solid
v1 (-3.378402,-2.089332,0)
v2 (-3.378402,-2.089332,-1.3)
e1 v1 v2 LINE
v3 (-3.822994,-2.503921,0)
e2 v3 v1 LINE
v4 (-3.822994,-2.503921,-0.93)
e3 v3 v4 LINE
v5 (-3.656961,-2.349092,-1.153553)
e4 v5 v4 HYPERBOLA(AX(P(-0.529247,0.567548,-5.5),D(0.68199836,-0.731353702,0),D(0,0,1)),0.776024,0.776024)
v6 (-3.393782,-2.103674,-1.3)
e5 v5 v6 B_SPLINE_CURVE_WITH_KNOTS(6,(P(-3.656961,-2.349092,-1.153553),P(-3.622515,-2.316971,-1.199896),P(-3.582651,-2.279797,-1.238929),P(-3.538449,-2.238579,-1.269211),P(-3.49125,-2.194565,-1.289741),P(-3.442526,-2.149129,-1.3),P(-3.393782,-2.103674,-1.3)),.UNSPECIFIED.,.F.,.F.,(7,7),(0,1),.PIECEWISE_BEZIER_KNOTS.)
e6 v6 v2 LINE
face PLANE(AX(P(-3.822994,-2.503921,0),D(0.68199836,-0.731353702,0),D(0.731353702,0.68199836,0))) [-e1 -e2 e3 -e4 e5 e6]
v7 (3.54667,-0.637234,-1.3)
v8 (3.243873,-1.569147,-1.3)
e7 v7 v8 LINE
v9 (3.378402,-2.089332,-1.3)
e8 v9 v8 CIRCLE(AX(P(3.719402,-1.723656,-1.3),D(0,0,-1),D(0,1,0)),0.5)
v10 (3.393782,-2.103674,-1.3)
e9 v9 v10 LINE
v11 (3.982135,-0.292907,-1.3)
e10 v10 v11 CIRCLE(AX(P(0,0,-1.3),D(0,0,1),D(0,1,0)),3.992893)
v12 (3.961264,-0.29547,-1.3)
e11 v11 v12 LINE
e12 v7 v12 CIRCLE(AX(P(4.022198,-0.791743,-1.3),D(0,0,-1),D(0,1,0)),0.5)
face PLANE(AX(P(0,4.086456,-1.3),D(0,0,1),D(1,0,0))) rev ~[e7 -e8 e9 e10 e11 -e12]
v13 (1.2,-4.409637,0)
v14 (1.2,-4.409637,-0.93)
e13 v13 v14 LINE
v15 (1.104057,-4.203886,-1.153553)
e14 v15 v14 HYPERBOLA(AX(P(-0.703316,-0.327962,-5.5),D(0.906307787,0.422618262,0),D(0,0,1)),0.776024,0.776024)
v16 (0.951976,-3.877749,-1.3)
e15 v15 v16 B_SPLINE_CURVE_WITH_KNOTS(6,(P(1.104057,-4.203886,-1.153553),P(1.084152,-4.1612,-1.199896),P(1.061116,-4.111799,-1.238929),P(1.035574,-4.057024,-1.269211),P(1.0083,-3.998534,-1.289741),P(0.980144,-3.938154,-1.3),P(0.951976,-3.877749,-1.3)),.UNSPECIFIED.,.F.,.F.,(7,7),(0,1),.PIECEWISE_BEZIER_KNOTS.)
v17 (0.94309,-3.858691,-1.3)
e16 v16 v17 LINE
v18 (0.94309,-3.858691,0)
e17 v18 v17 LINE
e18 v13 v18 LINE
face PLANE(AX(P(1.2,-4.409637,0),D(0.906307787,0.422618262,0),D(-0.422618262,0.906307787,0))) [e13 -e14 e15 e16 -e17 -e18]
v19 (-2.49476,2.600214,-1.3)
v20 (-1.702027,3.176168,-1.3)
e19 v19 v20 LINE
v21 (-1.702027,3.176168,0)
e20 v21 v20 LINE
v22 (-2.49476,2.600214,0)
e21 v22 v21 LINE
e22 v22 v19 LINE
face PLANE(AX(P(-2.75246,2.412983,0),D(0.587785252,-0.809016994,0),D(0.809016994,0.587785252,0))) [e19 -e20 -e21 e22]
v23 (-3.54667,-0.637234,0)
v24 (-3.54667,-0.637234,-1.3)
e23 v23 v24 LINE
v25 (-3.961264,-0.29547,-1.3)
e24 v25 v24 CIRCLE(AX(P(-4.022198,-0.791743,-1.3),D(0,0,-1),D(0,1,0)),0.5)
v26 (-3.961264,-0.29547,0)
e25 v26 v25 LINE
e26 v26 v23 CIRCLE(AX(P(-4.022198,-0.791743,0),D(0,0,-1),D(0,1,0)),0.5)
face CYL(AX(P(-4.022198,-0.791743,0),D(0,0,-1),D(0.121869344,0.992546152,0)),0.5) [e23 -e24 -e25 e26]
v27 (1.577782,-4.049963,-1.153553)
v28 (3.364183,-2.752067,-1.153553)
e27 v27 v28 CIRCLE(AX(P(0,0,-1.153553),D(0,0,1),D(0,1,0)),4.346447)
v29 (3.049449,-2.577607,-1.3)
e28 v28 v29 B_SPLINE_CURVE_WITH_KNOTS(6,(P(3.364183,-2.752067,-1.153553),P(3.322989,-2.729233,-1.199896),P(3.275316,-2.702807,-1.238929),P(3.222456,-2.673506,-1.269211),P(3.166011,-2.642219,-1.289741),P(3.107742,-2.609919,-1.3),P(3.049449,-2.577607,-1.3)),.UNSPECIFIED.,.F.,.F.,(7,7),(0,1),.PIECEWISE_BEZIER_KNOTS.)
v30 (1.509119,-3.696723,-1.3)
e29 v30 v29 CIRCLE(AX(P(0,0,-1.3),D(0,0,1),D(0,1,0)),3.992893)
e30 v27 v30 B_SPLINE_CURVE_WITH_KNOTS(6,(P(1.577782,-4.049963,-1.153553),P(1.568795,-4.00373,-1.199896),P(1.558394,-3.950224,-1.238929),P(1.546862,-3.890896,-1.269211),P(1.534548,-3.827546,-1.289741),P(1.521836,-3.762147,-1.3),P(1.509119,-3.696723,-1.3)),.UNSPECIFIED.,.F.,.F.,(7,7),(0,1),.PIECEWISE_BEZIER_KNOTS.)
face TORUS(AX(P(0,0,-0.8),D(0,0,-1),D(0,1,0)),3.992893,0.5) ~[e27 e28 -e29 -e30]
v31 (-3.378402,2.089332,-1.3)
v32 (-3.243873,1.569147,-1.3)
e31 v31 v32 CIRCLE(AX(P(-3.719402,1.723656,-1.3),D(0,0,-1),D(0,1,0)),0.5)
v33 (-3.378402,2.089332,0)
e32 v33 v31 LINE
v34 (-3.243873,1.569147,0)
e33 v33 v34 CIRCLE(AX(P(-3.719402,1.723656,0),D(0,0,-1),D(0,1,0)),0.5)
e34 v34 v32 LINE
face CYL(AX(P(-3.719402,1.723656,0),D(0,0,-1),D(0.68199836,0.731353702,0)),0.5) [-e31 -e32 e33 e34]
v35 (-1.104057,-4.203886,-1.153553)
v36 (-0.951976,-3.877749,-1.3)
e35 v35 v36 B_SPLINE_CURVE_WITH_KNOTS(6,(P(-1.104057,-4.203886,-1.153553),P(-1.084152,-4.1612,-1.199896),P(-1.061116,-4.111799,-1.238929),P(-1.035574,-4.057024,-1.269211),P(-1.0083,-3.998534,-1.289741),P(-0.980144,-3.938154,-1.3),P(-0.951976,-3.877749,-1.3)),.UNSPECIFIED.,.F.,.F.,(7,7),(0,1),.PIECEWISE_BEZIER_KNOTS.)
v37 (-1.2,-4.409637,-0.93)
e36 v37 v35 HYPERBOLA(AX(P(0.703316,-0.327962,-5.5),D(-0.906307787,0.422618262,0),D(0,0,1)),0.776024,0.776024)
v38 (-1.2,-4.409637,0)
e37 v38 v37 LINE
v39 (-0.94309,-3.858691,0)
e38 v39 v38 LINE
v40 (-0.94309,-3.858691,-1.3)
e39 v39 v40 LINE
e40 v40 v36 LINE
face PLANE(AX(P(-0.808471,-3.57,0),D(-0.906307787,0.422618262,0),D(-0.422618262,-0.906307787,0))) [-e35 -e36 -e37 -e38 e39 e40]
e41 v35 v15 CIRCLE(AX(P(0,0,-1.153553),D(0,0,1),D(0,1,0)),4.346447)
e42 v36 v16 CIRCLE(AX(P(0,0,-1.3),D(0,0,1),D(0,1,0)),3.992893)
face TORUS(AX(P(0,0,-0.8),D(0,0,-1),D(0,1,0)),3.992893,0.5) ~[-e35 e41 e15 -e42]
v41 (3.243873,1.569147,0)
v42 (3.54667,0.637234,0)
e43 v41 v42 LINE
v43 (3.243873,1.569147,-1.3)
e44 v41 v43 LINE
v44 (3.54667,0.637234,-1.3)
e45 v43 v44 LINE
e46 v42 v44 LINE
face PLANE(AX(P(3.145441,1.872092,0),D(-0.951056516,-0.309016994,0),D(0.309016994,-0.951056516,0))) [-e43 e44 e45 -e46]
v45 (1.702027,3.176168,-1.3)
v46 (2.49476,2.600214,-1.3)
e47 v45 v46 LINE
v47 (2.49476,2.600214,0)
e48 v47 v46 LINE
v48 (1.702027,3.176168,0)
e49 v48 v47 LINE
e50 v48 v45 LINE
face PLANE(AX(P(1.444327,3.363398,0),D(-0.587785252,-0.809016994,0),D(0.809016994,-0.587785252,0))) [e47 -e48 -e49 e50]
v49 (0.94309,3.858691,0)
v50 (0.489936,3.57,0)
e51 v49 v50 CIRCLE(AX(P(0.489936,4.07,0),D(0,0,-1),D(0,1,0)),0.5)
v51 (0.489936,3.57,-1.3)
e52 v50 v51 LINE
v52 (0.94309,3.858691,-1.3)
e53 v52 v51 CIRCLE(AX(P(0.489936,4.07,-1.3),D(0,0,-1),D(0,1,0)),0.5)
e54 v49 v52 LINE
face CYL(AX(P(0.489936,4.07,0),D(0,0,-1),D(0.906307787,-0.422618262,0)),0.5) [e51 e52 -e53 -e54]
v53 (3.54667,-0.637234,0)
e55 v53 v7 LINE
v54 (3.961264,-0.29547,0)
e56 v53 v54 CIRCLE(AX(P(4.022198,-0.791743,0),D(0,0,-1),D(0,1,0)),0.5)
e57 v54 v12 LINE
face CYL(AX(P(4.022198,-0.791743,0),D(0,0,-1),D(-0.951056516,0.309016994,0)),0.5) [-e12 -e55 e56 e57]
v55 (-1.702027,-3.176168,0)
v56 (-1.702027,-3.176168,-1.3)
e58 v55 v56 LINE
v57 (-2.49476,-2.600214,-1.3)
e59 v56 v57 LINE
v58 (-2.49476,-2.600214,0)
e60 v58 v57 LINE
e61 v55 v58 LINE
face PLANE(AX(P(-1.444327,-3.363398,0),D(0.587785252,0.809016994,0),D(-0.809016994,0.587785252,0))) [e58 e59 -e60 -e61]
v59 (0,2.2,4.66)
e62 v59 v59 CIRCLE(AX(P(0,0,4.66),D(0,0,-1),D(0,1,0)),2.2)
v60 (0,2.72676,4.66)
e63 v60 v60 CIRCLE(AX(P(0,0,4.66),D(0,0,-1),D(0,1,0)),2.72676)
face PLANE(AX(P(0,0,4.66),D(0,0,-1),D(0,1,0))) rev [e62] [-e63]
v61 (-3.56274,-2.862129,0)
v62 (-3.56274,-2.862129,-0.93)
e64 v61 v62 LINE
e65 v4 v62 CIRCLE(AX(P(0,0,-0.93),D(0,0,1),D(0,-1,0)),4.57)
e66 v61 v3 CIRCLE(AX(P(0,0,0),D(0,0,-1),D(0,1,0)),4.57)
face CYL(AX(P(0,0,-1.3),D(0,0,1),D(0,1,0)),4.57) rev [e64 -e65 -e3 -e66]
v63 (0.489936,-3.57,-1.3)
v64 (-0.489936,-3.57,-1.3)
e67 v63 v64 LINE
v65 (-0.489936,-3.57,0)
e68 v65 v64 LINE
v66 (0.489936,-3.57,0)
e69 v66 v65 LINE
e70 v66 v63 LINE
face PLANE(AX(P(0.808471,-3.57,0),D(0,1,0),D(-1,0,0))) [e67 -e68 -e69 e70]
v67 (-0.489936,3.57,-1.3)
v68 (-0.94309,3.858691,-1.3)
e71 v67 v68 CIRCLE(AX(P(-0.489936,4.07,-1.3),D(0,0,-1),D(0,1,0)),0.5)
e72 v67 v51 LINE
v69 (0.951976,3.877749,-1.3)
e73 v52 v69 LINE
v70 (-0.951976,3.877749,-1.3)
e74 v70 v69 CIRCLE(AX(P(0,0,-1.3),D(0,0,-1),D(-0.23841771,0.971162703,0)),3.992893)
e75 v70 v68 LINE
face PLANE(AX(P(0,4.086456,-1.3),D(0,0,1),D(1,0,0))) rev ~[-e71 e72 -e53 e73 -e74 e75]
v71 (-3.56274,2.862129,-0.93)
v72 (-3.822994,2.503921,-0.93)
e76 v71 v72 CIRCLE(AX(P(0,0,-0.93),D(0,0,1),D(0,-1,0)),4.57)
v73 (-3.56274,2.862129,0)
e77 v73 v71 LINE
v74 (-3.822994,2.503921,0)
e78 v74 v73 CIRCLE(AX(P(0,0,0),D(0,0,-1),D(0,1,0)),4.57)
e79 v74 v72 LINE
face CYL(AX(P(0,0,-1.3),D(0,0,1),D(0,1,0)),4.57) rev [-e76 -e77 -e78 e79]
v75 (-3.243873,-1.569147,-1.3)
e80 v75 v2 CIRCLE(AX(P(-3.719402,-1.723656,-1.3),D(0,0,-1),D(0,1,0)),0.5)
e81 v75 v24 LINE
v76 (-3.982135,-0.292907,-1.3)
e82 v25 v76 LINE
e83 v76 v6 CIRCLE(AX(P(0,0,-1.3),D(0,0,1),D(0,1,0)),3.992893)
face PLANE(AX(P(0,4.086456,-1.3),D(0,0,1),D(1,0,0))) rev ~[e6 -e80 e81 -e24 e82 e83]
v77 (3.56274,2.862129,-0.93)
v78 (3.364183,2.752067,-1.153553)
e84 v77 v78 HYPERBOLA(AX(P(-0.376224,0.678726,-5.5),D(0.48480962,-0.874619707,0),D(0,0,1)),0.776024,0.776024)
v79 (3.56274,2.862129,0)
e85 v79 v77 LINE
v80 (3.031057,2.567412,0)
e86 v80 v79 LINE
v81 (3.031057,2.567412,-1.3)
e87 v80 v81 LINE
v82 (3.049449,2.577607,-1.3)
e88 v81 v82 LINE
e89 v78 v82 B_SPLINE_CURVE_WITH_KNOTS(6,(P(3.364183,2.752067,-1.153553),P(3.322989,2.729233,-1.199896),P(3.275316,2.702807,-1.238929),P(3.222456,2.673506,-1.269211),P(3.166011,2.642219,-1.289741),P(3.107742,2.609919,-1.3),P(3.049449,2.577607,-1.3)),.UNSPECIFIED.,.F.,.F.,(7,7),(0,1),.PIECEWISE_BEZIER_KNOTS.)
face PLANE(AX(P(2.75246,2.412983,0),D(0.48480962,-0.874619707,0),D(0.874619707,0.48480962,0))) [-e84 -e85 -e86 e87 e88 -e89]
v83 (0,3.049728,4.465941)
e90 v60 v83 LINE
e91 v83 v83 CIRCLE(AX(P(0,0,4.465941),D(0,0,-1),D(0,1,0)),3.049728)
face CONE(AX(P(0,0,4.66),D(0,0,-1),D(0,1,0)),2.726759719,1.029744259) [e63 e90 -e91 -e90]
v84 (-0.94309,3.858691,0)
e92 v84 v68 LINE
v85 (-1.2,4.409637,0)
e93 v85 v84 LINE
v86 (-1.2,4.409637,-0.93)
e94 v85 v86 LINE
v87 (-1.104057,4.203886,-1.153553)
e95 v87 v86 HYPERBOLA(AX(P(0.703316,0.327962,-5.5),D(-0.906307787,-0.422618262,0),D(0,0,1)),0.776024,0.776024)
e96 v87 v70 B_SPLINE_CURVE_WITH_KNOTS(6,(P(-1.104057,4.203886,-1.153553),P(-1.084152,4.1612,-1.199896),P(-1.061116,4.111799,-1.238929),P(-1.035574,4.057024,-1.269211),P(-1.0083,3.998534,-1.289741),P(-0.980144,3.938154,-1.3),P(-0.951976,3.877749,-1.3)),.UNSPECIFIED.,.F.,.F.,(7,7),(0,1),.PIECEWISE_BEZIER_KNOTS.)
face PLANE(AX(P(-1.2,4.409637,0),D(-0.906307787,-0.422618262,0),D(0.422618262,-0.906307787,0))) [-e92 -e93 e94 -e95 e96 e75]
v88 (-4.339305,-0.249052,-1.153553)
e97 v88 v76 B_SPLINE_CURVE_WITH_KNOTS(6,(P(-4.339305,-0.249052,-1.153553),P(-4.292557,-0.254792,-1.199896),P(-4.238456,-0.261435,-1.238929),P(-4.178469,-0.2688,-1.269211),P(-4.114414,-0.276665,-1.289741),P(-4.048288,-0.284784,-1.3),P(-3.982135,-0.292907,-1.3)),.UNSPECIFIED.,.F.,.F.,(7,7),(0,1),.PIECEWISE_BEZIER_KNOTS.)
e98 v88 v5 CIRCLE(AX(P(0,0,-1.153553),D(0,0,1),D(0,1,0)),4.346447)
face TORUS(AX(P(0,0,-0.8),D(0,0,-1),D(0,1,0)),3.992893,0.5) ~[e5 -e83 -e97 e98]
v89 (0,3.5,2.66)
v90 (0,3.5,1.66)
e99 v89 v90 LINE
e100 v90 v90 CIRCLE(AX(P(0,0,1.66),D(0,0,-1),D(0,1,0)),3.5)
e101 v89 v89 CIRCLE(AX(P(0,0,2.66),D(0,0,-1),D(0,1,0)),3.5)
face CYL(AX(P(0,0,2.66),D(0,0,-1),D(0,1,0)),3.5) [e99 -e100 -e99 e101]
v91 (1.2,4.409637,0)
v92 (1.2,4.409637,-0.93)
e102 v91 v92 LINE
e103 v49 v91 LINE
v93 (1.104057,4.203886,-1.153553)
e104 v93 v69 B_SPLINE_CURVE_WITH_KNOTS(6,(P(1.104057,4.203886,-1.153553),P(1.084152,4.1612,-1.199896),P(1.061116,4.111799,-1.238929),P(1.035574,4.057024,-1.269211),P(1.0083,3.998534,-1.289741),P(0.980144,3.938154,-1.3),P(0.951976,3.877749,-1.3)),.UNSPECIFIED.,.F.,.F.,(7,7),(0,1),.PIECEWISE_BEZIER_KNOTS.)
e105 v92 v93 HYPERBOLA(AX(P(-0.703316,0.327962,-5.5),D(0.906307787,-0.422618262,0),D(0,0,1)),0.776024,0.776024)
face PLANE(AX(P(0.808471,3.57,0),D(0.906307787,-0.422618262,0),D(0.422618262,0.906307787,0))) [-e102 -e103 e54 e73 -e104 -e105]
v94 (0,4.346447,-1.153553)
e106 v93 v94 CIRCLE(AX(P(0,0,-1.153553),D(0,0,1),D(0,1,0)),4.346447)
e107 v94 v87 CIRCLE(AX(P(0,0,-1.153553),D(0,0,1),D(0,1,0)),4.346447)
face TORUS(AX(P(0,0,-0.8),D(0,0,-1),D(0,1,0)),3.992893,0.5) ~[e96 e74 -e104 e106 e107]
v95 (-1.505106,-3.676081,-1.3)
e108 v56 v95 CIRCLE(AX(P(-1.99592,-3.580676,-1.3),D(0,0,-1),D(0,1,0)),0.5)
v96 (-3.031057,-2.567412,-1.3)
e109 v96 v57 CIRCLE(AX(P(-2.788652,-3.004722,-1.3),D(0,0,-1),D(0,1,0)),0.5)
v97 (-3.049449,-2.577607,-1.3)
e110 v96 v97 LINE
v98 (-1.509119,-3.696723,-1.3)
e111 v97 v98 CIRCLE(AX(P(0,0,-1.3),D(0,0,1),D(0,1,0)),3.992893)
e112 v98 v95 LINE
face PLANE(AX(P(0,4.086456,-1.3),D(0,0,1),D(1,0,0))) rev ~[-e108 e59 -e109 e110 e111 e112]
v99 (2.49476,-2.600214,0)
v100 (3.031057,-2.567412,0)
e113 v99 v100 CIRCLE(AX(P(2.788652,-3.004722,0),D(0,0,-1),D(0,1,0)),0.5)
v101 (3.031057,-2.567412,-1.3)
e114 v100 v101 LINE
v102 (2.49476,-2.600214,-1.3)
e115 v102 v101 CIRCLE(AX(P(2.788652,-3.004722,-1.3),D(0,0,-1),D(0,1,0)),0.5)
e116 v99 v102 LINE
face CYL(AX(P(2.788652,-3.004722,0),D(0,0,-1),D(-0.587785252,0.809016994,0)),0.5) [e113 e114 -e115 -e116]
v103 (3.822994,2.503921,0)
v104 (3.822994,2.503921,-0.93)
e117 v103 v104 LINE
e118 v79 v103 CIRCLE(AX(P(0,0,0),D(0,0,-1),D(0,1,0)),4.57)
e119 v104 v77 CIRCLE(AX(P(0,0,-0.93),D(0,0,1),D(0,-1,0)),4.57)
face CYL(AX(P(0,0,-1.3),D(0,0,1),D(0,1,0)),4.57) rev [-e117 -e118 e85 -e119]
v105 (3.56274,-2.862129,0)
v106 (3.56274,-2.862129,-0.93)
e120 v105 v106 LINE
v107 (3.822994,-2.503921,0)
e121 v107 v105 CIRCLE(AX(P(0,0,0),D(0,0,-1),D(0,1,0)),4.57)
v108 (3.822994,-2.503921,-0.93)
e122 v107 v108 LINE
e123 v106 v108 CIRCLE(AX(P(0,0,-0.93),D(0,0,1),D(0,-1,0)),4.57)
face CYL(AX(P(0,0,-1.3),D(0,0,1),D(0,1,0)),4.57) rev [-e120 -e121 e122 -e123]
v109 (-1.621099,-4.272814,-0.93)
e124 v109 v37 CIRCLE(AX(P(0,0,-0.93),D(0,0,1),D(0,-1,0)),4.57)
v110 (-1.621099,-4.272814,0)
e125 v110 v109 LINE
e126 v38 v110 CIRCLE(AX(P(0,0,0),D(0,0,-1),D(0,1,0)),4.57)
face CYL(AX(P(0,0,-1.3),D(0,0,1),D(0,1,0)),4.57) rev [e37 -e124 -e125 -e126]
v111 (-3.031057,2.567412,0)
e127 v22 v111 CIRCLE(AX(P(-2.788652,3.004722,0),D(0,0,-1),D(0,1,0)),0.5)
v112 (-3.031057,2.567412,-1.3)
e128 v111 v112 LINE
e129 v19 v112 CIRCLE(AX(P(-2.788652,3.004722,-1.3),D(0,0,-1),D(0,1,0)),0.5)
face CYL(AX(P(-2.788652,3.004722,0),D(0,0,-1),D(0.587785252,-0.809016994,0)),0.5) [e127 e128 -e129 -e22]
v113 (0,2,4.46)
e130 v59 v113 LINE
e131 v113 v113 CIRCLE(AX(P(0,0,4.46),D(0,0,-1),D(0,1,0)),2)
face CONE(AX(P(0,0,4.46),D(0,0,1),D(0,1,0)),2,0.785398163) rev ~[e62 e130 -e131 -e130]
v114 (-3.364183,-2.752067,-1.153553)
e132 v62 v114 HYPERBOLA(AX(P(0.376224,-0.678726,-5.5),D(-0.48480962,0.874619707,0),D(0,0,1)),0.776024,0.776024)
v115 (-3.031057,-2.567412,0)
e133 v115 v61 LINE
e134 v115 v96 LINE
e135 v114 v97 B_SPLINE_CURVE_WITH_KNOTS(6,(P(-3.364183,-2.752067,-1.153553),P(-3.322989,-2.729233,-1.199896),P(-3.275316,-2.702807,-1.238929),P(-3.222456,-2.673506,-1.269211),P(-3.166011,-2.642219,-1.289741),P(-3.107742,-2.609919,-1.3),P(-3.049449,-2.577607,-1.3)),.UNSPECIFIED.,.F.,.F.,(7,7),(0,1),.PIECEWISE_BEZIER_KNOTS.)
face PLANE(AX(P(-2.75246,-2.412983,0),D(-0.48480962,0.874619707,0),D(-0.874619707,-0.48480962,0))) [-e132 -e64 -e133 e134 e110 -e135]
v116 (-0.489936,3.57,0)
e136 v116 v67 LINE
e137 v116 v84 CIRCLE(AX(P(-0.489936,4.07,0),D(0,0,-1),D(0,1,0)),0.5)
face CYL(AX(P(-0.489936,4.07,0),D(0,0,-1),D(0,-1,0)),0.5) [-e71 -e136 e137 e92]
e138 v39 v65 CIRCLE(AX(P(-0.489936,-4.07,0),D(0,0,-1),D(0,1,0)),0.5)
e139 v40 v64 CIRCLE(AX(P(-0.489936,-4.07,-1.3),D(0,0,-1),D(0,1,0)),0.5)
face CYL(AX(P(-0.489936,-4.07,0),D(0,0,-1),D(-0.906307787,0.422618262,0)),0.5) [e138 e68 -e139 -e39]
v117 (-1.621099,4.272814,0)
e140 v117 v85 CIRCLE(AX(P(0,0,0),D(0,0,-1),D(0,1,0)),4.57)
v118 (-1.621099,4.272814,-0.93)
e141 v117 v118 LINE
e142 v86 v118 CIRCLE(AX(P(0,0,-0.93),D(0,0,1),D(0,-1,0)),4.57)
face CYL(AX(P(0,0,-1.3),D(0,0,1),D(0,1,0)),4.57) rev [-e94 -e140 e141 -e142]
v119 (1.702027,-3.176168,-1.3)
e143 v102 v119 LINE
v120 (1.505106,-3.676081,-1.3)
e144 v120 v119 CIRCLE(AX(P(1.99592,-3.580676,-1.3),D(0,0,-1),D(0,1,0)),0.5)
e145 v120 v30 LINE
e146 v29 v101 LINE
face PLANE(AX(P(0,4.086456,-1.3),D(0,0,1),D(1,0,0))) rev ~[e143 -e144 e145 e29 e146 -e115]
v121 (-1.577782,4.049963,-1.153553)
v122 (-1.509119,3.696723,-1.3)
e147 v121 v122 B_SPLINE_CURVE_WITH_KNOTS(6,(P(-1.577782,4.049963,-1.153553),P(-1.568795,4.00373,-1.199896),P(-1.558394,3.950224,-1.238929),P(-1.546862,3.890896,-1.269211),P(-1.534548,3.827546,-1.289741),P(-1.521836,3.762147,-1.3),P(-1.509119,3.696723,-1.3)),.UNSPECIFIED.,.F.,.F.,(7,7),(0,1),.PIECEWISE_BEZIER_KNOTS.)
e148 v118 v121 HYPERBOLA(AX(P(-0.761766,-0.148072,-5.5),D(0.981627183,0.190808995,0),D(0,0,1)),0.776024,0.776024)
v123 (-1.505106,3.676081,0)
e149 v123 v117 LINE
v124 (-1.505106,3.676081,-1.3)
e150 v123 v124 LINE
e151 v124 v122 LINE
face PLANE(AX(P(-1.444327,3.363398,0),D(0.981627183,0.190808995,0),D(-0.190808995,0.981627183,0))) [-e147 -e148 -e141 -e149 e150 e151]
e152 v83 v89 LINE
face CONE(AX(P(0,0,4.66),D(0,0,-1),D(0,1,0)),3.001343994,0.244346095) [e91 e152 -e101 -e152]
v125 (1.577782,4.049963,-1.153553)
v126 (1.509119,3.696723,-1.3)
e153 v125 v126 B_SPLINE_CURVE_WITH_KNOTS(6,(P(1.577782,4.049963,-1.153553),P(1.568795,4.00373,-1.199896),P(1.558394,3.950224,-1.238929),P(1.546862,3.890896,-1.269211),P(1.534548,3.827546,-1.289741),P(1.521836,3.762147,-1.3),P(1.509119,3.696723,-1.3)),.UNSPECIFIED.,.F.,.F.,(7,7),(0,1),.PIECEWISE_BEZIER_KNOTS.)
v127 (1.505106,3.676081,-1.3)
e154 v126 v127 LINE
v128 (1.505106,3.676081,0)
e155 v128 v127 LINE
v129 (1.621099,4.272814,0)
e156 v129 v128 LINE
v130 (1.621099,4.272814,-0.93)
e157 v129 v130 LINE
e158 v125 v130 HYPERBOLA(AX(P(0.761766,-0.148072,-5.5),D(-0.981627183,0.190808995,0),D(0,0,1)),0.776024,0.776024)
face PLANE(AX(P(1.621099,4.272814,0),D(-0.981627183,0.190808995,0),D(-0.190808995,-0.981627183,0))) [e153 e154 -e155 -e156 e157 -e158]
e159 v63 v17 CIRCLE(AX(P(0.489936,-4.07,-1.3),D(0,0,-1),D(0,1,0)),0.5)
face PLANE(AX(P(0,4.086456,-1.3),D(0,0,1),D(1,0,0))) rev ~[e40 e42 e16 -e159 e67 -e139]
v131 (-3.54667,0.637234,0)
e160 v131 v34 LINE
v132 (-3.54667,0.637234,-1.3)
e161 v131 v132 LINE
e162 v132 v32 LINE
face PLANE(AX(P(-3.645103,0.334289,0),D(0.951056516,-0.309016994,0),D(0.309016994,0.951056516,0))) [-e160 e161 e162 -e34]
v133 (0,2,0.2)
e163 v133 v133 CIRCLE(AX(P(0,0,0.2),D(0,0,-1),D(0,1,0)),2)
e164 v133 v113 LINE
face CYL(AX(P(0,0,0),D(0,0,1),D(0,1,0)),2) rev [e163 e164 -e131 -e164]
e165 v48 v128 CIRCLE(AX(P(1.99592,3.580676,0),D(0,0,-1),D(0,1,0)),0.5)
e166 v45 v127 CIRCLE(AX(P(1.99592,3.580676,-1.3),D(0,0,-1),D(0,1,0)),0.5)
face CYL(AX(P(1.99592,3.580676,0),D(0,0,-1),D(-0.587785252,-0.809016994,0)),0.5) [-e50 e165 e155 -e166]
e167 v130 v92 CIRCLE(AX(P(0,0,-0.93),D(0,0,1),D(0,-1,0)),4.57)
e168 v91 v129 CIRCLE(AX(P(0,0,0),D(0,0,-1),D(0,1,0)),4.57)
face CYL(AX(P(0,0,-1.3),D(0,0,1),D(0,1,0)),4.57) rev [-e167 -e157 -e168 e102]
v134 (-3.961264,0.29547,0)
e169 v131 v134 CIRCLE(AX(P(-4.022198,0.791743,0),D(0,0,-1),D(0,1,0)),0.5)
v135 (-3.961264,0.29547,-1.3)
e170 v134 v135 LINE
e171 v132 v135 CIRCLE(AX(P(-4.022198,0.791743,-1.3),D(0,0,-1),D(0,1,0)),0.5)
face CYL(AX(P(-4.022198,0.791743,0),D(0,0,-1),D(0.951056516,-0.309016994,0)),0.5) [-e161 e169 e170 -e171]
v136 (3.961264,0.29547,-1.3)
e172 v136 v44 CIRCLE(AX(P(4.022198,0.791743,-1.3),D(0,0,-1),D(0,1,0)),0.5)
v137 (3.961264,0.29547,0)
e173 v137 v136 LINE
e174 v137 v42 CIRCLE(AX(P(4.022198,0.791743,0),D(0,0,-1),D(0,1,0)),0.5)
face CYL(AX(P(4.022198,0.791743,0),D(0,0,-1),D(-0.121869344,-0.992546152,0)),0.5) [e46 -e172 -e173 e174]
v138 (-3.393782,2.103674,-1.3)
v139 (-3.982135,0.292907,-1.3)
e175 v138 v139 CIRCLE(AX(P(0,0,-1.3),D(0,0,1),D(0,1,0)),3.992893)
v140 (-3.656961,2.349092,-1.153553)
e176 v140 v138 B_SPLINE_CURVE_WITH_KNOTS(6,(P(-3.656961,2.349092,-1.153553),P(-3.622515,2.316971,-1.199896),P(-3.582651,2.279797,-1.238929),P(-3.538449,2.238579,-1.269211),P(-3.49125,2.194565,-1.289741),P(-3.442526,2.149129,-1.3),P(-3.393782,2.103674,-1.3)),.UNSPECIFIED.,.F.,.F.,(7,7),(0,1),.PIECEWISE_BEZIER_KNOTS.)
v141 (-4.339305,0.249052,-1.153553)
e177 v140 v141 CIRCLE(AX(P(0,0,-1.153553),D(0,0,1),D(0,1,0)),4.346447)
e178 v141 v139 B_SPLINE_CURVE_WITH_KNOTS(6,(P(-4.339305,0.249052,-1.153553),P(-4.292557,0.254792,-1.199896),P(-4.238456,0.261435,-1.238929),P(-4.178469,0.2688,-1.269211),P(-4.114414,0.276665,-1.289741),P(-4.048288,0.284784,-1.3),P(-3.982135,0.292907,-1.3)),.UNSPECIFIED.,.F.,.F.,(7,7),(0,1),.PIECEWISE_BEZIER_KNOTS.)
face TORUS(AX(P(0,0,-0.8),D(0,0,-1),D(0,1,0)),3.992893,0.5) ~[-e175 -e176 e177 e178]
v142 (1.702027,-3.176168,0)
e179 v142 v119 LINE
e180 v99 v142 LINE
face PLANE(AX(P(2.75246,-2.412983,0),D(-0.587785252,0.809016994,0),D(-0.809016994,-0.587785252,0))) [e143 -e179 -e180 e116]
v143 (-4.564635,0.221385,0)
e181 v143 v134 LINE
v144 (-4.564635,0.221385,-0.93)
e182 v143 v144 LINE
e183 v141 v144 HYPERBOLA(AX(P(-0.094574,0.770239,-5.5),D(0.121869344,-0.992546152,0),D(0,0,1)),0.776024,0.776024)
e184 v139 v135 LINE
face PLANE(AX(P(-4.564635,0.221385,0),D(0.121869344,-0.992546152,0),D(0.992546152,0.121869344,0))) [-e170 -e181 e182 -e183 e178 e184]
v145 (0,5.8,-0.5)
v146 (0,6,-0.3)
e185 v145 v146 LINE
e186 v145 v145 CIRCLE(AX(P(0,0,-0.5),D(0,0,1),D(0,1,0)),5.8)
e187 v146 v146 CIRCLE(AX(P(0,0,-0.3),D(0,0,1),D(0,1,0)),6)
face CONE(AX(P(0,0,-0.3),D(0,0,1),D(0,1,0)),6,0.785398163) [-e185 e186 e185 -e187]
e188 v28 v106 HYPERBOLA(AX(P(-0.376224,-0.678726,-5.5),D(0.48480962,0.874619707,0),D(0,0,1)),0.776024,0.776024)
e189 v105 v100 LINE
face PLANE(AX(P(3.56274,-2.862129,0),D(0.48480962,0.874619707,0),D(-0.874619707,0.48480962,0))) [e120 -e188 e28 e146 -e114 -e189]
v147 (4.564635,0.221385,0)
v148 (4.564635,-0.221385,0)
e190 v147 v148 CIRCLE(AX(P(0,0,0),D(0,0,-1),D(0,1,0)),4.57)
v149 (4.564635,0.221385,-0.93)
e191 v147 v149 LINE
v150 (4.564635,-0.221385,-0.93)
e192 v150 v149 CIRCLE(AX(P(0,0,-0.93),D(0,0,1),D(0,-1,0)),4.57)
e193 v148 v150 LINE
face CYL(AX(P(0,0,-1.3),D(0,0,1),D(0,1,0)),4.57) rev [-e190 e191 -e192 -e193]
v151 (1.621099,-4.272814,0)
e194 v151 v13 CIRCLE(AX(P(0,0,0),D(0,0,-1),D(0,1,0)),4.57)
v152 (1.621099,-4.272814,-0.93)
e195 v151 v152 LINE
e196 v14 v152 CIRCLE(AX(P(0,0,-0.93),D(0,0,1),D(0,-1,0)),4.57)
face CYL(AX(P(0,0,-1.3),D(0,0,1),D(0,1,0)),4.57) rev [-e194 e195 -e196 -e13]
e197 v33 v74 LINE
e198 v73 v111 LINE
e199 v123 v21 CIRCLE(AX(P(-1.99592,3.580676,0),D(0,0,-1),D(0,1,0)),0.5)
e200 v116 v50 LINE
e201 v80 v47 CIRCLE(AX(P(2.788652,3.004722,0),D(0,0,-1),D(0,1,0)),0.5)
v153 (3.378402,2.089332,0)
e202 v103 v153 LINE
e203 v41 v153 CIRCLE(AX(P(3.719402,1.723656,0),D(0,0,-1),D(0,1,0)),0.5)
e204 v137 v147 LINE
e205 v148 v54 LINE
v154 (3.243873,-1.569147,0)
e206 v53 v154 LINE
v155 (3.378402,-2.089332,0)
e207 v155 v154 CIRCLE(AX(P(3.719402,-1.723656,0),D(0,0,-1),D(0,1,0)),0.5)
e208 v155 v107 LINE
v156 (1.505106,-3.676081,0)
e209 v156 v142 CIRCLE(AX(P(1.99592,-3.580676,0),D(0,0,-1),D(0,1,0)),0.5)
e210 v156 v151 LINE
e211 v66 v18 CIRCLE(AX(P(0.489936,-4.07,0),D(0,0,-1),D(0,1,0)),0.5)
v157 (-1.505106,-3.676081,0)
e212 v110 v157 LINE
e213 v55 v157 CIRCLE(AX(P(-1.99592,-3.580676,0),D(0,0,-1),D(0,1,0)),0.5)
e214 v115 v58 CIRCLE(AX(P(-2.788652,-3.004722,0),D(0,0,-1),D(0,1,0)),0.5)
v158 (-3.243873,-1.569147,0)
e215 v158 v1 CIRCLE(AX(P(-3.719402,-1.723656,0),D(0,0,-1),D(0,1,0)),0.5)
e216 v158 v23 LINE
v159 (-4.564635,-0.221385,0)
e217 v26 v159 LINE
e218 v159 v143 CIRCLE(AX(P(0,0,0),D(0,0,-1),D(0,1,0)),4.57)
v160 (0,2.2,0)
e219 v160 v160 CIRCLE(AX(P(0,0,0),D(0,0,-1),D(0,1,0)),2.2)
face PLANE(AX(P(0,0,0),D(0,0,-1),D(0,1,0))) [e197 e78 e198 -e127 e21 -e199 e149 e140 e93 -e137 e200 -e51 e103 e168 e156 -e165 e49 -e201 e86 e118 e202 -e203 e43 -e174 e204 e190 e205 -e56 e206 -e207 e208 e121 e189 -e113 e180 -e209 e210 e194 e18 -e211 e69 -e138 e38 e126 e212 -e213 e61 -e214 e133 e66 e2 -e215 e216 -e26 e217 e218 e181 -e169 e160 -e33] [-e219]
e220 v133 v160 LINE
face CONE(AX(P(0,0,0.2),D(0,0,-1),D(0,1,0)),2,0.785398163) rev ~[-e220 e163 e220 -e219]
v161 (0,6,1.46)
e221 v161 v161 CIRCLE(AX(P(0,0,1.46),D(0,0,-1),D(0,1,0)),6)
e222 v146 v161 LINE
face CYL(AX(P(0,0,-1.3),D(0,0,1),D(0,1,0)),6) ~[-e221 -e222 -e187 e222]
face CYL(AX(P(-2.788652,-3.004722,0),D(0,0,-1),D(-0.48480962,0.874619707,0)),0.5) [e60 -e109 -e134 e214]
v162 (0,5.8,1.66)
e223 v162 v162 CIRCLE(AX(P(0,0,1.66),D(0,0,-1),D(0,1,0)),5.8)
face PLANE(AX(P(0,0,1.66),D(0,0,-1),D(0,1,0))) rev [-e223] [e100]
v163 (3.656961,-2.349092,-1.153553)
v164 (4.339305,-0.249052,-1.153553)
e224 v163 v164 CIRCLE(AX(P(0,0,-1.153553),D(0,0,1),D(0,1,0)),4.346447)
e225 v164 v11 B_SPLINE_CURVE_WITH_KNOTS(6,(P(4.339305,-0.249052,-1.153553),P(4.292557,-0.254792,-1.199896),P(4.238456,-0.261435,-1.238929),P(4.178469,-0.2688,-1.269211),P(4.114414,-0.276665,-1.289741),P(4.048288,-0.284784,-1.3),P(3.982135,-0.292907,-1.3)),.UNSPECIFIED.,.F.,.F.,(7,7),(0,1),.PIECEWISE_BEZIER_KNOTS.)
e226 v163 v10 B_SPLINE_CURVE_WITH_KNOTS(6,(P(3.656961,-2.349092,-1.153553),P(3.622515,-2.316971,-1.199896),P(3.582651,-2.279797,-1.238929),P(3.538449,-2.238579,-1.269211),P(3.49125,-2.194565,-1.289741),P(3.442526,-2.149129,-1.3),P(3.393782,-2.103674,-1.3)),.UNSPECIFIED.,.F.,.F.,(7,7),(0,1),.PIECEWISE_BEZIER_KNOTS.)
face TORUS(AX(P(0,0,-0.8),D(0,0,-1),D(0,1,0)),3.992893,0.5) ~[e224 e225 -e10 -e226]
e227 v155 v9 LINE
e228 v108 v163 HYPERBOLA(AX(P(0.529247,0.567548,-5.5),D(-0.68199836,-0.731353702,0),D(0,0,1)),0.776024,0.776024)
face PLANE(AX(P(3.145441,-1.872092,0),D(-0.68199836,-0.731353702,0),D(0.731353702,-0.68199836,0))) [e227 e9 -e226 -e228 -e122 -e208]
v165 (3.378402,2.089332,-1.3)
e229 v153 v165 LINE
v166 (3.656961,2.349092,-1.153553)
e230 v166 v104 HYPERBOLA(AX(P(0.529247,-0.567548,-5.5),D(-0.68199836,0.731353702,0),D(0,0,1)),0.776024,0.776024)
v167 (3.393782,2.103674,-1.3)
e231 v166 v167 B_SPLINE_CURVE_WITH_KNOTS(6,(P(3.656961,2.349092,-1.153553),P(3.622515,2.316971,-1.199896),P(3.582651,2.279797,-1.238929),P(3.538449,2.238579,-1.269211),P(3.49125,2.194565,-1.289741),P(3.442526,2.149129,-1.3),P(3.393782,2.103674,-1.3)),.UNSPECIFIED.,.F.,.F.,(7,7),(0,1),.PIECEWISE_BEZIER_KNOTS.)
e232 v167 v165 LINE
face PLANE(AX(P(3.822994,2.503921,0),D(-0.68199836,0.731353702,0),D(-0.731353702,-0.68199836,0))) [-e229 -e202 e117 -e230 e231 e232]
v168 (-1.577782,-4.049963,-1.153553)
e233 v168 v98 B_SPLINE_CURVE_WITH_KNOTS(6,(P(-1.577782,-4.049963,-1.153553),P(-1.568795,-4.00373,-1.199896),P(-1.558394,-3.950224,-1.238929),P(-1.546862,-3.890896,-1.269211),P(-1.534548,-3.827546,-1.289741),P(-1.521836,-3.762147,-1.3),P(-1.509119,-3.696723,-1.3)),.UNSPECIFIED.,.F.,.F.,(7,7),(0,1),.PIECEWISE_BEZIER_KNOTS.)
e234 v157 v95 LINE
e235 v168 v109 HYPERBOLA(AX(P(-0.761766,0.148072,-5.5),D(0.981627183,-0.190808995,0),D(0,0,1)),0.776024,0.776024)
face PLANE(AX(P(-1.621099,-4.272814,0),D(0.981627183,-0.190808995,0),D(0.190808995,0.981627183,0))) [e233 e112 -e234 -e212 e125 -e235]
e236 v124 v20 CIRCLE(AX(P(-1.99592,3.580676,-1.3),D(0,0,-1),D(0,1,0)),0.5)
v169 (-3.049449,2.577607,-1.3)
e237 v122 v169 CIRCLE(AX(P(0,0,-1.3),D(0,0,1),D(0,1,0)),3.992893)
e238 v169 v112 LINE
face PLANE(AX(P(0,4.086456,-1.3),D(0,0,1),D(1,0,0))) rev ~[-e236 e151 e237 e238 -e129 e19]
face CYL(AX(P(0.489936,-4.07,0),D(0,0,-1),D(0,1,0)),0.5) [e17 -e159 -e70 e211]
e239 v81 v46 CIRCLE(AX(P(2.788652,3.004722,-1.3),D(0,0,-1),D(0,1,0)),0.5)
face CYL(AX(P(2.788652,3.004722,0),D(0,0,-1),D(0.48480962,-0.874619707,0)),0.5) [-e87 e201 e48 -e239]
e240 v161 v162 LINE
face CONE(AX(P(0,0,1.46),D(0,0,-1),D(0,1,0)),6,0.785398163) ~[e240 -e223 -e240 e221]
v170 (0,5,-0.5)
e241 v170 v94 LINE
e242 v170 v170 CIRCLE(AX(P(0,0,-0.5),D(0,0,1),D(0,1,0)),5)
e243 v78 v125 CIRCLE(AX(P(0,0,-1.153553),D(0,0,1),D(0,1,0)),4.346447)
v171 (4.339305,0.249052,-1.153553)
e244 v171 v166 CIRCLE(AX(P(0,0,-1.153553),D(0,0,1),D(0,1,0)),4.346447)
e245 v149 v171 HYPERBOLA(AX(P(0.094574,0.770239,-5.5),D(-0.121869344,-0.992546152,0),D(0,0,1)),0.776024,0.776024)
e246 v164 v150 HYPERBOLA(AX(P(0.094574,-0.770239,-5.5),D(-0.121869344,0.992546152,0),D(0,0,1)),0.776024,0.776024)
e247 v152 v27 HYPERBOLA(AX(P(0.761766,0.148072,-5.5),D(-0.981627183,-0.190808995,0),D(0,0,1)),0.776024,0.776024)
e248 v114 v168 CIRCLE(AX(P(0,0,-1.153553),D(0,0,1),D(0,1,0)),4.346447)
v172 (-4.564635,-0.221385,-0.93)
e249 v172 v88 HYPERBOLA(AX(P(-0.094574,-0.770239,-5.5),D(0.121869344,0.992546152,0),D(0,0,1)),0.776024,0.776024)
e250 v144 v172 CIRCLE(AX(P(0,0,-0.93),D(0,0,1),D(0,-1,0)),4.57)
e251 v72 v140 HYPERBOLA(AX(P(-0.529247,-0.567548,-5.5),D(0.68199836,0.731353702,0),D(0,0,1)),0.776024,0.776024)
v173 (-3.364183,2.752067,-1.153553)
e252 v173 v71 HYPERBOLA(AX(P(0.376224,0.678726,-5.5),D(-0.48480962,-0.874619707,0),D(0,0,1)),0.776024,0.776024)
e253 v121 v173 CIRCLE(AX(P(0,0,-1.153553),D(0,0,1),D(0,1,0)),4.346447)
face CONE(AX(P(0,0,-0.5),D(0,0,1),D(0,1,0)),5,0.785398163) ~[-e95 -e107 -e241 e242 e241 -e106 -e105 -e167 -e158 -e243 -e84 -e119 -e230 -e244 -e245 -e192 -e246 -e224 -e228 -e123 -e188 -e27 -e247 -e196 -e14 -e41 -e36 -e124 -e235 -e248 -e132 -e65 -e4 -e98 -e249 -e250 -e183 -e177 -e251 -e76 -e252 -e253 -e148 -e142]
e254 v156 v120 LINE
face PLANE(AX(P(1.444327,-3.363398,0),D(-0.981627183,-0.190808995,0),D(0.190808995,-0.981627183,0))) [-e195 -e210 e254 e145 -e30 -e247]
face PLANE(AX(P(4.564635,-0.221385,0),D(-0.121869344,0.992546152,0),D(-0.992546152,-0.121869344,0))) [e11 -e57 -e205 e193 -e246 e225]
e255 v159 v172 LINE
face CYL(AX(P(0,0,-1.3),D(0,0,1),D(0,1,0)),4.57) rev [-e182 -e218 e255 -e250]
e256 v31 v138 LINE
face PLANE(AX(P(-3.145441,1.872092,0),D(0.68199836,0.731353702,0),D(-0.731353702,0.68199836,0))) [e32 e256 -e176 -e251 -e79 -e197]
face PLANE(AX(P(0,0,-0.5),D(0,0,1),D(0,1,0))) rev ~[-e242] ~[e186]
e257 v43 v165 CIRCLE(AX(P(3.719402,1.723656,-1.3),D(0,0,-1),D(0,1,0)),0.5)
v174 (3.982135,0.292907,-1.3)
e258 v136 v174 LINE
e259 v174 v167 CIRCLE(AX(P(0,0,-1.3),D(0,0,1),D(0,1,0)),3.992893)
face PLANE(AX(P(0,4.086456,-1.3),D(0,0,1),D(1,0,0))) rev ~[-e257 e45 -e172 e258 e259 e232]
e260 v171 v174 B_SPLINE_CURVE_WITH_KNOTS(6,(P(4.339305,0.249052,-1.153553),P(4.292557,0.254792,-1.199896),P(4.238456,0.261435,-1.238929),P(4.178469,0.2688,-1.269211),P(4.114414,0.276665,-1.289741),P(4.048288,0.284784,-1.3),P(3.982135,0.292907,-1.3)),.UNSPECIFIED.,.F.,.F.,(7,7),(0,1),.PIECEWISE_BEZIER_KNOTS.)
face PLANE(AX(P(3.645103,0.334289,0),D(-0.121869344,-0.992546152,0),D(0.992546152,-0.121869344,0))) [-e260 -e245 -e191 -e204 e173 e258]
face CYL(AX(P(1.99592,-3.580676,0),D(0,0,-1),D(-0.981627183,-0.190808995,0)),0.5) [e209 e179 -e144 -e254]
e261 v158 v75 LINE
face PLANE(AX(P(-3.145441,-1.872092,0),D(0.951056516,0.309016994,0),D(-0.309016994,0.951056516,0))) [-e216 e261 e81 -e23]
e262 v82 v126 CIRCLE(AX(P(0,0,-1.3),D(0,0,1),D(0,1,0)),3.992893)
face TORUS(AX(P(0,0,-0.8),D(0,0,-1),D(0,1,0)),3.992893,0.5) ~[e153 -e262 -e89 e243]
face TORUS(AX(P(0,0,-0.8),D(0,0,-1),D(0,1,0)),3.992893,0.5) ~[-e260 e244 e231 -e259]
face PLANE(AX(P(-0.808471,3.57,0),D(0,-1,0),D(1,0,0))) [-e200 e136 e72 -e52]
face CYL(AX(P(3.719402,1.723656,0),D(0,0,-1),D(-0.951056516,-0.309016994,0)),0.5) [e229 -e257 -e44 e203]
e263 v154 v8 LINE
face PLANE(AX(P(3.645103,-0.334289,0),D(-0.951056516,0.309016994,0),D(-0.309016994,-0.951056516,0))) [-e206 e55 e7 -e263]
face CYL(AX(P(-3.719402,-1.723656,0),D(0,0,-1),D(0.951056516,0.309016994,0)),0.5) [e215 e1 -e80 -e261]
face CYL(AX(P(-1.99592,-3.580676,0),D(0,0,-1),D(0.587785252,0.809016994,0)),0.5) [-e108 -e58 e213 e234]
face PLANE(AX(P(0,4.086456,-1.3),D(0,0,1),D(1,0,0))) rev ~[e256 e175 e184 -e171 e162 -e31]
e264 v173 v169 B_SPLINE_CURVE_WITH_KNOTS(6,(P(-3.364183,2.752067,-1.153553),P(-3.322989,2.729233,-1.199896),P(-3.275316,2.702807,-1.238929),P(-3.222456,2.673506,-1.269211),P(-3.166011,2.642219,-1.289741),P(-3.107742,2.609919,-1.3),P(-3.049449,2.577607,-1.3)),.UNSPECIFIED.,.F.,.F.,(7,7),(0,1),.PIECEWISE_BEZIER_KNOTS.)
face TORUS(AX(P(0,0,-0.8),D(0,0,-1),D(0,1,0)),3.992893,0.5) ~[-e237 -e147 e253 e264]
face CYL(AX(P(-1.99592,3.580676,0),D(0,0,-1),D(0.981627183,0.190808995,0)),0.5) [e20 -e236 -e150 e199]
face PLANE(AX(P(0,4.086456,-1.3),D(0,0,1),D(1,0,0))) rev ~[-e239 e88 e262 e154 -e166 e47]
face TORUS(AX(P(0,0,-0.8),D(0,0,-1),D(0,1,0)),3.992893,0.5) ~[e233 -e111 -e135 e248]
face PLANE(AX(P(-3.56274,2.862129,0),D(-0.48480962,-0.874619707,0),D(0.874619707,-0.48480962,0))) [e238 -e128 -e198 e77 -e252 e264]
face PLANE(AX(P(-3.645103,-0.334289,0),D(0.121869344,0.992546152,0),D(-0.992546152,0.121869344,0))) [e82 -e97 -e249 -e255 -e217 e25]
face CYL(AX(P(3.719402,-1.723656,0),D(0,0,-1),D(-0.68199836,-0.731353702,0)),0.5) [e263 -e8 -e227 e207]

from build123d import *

# Parameters (mm, degrees)
AUFSATZ_LINEAR_AUSTRAGEN1_DEPTH = 1.3
VERRUNDUNG1_R                   = 0.5
KREISMUSTER1_COUNT              = 10
VERRUNDUNG1_OF_KREISMUSTER1_R   = 0.5
FASE1_SIZE2                     = 0.2
FASE1_SIZE                      = 0.274584275
FASE1_EDGE_2_SIZE               = 0.2
FASE1_EDGE_3_SIZE               = 0.2
FASE1_EDGE_4_SIZE               = 0.2
FASE1_EDGE_5_SIZE               = 0.2


with BuildPart() as part:
    # Skizze1 → Rotation1 (revolve)
    with BuildSketch(Plane(origin=(0, 0, 0), x_dir=(0, 0, -1), z_dir=(1, 0, 0))):
        Polygon((0, 2), (-4.66, 2), (-4.66, 3.001343994), (-2.66, 3.5), (-1.66, 3.5), (-1.66, 6), (0, 6), (1.3, 6), (1.3, 4.57), (0, 4.57), align=None)
    revolve(axis=Axis((0, 0, 23.408695652), (0, 0, -1)))

    # Skizze4 → Aufsatz-Linear austragen1 (add)
    with BuildSketch(Plane(origin=(0, 0, 0), x_dir=(-1, 0, 0), z_dir=(0, 0, -1))):
        with BuildLine():
            Line((-0.808470756, 3.57), (-1.2, 4.409637173))
            ThreePointArc((-1.2, 4.409637173), (0, 4.57), (1.2, 4.409637173))
            Line((1.2, 4.409637173), (0.808470756, 3.57))
            Line((0.808470756, 3.57), (-0.808470756, 3.57))
        make_face()
    aufsatz_linear_austragen1 = extrude(amount=AUFSATZ_LINEAR_AUSTRAGEN1_DEPTH)

    # Verrundung1
    verrundung1_edges = [part.edges().sort_by_distance(p)[0] for p in [
        (-0.808470756, 3.57, -0.65),
        (0.808470756, 3.57, -0.65),
    ]]
    fillet(verrundung1_edges, radius=VERRUNDUNG1_R)

    # Kreismuster1: Aufsatz-Linear austragen1 ×10 about axis
    kreismuster1_axis = Axis((0, 0, 0), (0, 0, 1))
    for i in range(1, KREISMUSTER1_COUNT):
        add(aufsatz_linear_austragen1.rotate(kreismuster1_axis, i * 360 / KREISMUSTER1_COUNT))

    # Verrundung1 of Kreismuster1
    verrundung1_of_kreismuster1_edges = [part.edges().sort_by_distance(p)[0] for p in [
        (-2.752459932, 2.412983483, -0.65),
        (-1.44432677, 3.363397857, -0.65),
        (-3.645102966, 0.334289289, -0.65),
        (-3.14544056, 1.872092051, -0.65),
        (-3.14544056, -1.872092051, -0.65),
        (-3.645102966, -0.334289289, -0.65),
        (-1.44432677, -3.363397857, -0.65),
        (-2.752459932, -2.412983483, -0.65),
        (0.808470756, -3.57, -0.65),
        (-0.808470756, -3.57, -0.65),
        (2.752459932, -2.412983483, -0.65),
        (1.44432677, -3.363397857, -0.65),
        (3.645102966, -0.334289289, -0.65),
        (3.14544056, -1.872092051, -0.65),
        (3.14544056, 1.872092051, -0.65),
        (3.645102966, 0.334289289, -0.65),
        (1.44432677, 3.363397857, -0.65),
        (2.752459932, 2.412983483, -0.65),
    ]]
    fillet(verrundung1_of_kreismuster1_edges, radius=VERRUNDUNG1_OF_KREISMUSTER1_R)

    # Skizze5 → Schnitt-Rotation1 (revolve, cut)
    with BuildSketch(Plane(origin=(0, 0, 0), x_dir=(0, 0, -1), z_dir=(1, 0, 0))):
        with BuildLine():
            Line((0.5, 6), (0.5, 5))
            Line((0.5, 5), (1.153553391, 4.346446609))
            ThreePointArc((1.153553391, 4.346446609), (1.261939766, 4.184234935), (1.3, 3.992893219))
            Line((1.3, 3.992893219), (1.3, 2.59724793))
            Line((1.3, 2.59724793), (2.535311957, 2.59724793))
            Line((2.535311957, 2.59724793), (2.535311957, 6))
            Line((2.535311957, 6), (0.5, 6))
        make_face()
    revolve(axis=Axis((0, 0, -4.981936438), (0, 0, 1)), mode=Mode.SUBTRACT)

    # Fase1
    fase1_edges = [part.edges().sort_by_distance(p)[0] for p in [
        (0, -3.001343994, 4.66),
    ]]
    chamfer(fase1_edges, length=FASE1_SIZE, length2=FASE1_SIZE2)

    # Fase1 edge 2
    fase1_edge_2_edges = [part.edges().sort_by_distance(p)[0] for p in [
        (0, -2, 4.66),
    ]]
    chamfer(fase1_edge_2_edges, length=FASE1_EDGE_2_SIZE)

    # Fase1 edge 3
    fase1_edge_3_edges = [part.edges().sort_by_distance(p)[0] for p in [
        (0, -2, 0),
    ]]
    chamfer(fase1_edge_3_edges, length=FASE1_EDGE_3_SIZE)

    # Fase1 edge 4
    fase1_edge_4_edges = [part.edges().sort_by_distance(p)[0] for p in [
        (0, -6, -0.5),
    ]]
    chamfer(fase1_edge_4_edges, length=FASE1_EDGE_4_SIZE)

    # Fase1 edge 5
    fase1_edge_5_edges = [part.edges().sort_by_distance(p)[0] for p in [
        (0, -6, 1.66),
    ]]
    chamfer(fase1_edge_5_edges, length=FASE1_EDGE_5_SIZE)


solid = part.part
